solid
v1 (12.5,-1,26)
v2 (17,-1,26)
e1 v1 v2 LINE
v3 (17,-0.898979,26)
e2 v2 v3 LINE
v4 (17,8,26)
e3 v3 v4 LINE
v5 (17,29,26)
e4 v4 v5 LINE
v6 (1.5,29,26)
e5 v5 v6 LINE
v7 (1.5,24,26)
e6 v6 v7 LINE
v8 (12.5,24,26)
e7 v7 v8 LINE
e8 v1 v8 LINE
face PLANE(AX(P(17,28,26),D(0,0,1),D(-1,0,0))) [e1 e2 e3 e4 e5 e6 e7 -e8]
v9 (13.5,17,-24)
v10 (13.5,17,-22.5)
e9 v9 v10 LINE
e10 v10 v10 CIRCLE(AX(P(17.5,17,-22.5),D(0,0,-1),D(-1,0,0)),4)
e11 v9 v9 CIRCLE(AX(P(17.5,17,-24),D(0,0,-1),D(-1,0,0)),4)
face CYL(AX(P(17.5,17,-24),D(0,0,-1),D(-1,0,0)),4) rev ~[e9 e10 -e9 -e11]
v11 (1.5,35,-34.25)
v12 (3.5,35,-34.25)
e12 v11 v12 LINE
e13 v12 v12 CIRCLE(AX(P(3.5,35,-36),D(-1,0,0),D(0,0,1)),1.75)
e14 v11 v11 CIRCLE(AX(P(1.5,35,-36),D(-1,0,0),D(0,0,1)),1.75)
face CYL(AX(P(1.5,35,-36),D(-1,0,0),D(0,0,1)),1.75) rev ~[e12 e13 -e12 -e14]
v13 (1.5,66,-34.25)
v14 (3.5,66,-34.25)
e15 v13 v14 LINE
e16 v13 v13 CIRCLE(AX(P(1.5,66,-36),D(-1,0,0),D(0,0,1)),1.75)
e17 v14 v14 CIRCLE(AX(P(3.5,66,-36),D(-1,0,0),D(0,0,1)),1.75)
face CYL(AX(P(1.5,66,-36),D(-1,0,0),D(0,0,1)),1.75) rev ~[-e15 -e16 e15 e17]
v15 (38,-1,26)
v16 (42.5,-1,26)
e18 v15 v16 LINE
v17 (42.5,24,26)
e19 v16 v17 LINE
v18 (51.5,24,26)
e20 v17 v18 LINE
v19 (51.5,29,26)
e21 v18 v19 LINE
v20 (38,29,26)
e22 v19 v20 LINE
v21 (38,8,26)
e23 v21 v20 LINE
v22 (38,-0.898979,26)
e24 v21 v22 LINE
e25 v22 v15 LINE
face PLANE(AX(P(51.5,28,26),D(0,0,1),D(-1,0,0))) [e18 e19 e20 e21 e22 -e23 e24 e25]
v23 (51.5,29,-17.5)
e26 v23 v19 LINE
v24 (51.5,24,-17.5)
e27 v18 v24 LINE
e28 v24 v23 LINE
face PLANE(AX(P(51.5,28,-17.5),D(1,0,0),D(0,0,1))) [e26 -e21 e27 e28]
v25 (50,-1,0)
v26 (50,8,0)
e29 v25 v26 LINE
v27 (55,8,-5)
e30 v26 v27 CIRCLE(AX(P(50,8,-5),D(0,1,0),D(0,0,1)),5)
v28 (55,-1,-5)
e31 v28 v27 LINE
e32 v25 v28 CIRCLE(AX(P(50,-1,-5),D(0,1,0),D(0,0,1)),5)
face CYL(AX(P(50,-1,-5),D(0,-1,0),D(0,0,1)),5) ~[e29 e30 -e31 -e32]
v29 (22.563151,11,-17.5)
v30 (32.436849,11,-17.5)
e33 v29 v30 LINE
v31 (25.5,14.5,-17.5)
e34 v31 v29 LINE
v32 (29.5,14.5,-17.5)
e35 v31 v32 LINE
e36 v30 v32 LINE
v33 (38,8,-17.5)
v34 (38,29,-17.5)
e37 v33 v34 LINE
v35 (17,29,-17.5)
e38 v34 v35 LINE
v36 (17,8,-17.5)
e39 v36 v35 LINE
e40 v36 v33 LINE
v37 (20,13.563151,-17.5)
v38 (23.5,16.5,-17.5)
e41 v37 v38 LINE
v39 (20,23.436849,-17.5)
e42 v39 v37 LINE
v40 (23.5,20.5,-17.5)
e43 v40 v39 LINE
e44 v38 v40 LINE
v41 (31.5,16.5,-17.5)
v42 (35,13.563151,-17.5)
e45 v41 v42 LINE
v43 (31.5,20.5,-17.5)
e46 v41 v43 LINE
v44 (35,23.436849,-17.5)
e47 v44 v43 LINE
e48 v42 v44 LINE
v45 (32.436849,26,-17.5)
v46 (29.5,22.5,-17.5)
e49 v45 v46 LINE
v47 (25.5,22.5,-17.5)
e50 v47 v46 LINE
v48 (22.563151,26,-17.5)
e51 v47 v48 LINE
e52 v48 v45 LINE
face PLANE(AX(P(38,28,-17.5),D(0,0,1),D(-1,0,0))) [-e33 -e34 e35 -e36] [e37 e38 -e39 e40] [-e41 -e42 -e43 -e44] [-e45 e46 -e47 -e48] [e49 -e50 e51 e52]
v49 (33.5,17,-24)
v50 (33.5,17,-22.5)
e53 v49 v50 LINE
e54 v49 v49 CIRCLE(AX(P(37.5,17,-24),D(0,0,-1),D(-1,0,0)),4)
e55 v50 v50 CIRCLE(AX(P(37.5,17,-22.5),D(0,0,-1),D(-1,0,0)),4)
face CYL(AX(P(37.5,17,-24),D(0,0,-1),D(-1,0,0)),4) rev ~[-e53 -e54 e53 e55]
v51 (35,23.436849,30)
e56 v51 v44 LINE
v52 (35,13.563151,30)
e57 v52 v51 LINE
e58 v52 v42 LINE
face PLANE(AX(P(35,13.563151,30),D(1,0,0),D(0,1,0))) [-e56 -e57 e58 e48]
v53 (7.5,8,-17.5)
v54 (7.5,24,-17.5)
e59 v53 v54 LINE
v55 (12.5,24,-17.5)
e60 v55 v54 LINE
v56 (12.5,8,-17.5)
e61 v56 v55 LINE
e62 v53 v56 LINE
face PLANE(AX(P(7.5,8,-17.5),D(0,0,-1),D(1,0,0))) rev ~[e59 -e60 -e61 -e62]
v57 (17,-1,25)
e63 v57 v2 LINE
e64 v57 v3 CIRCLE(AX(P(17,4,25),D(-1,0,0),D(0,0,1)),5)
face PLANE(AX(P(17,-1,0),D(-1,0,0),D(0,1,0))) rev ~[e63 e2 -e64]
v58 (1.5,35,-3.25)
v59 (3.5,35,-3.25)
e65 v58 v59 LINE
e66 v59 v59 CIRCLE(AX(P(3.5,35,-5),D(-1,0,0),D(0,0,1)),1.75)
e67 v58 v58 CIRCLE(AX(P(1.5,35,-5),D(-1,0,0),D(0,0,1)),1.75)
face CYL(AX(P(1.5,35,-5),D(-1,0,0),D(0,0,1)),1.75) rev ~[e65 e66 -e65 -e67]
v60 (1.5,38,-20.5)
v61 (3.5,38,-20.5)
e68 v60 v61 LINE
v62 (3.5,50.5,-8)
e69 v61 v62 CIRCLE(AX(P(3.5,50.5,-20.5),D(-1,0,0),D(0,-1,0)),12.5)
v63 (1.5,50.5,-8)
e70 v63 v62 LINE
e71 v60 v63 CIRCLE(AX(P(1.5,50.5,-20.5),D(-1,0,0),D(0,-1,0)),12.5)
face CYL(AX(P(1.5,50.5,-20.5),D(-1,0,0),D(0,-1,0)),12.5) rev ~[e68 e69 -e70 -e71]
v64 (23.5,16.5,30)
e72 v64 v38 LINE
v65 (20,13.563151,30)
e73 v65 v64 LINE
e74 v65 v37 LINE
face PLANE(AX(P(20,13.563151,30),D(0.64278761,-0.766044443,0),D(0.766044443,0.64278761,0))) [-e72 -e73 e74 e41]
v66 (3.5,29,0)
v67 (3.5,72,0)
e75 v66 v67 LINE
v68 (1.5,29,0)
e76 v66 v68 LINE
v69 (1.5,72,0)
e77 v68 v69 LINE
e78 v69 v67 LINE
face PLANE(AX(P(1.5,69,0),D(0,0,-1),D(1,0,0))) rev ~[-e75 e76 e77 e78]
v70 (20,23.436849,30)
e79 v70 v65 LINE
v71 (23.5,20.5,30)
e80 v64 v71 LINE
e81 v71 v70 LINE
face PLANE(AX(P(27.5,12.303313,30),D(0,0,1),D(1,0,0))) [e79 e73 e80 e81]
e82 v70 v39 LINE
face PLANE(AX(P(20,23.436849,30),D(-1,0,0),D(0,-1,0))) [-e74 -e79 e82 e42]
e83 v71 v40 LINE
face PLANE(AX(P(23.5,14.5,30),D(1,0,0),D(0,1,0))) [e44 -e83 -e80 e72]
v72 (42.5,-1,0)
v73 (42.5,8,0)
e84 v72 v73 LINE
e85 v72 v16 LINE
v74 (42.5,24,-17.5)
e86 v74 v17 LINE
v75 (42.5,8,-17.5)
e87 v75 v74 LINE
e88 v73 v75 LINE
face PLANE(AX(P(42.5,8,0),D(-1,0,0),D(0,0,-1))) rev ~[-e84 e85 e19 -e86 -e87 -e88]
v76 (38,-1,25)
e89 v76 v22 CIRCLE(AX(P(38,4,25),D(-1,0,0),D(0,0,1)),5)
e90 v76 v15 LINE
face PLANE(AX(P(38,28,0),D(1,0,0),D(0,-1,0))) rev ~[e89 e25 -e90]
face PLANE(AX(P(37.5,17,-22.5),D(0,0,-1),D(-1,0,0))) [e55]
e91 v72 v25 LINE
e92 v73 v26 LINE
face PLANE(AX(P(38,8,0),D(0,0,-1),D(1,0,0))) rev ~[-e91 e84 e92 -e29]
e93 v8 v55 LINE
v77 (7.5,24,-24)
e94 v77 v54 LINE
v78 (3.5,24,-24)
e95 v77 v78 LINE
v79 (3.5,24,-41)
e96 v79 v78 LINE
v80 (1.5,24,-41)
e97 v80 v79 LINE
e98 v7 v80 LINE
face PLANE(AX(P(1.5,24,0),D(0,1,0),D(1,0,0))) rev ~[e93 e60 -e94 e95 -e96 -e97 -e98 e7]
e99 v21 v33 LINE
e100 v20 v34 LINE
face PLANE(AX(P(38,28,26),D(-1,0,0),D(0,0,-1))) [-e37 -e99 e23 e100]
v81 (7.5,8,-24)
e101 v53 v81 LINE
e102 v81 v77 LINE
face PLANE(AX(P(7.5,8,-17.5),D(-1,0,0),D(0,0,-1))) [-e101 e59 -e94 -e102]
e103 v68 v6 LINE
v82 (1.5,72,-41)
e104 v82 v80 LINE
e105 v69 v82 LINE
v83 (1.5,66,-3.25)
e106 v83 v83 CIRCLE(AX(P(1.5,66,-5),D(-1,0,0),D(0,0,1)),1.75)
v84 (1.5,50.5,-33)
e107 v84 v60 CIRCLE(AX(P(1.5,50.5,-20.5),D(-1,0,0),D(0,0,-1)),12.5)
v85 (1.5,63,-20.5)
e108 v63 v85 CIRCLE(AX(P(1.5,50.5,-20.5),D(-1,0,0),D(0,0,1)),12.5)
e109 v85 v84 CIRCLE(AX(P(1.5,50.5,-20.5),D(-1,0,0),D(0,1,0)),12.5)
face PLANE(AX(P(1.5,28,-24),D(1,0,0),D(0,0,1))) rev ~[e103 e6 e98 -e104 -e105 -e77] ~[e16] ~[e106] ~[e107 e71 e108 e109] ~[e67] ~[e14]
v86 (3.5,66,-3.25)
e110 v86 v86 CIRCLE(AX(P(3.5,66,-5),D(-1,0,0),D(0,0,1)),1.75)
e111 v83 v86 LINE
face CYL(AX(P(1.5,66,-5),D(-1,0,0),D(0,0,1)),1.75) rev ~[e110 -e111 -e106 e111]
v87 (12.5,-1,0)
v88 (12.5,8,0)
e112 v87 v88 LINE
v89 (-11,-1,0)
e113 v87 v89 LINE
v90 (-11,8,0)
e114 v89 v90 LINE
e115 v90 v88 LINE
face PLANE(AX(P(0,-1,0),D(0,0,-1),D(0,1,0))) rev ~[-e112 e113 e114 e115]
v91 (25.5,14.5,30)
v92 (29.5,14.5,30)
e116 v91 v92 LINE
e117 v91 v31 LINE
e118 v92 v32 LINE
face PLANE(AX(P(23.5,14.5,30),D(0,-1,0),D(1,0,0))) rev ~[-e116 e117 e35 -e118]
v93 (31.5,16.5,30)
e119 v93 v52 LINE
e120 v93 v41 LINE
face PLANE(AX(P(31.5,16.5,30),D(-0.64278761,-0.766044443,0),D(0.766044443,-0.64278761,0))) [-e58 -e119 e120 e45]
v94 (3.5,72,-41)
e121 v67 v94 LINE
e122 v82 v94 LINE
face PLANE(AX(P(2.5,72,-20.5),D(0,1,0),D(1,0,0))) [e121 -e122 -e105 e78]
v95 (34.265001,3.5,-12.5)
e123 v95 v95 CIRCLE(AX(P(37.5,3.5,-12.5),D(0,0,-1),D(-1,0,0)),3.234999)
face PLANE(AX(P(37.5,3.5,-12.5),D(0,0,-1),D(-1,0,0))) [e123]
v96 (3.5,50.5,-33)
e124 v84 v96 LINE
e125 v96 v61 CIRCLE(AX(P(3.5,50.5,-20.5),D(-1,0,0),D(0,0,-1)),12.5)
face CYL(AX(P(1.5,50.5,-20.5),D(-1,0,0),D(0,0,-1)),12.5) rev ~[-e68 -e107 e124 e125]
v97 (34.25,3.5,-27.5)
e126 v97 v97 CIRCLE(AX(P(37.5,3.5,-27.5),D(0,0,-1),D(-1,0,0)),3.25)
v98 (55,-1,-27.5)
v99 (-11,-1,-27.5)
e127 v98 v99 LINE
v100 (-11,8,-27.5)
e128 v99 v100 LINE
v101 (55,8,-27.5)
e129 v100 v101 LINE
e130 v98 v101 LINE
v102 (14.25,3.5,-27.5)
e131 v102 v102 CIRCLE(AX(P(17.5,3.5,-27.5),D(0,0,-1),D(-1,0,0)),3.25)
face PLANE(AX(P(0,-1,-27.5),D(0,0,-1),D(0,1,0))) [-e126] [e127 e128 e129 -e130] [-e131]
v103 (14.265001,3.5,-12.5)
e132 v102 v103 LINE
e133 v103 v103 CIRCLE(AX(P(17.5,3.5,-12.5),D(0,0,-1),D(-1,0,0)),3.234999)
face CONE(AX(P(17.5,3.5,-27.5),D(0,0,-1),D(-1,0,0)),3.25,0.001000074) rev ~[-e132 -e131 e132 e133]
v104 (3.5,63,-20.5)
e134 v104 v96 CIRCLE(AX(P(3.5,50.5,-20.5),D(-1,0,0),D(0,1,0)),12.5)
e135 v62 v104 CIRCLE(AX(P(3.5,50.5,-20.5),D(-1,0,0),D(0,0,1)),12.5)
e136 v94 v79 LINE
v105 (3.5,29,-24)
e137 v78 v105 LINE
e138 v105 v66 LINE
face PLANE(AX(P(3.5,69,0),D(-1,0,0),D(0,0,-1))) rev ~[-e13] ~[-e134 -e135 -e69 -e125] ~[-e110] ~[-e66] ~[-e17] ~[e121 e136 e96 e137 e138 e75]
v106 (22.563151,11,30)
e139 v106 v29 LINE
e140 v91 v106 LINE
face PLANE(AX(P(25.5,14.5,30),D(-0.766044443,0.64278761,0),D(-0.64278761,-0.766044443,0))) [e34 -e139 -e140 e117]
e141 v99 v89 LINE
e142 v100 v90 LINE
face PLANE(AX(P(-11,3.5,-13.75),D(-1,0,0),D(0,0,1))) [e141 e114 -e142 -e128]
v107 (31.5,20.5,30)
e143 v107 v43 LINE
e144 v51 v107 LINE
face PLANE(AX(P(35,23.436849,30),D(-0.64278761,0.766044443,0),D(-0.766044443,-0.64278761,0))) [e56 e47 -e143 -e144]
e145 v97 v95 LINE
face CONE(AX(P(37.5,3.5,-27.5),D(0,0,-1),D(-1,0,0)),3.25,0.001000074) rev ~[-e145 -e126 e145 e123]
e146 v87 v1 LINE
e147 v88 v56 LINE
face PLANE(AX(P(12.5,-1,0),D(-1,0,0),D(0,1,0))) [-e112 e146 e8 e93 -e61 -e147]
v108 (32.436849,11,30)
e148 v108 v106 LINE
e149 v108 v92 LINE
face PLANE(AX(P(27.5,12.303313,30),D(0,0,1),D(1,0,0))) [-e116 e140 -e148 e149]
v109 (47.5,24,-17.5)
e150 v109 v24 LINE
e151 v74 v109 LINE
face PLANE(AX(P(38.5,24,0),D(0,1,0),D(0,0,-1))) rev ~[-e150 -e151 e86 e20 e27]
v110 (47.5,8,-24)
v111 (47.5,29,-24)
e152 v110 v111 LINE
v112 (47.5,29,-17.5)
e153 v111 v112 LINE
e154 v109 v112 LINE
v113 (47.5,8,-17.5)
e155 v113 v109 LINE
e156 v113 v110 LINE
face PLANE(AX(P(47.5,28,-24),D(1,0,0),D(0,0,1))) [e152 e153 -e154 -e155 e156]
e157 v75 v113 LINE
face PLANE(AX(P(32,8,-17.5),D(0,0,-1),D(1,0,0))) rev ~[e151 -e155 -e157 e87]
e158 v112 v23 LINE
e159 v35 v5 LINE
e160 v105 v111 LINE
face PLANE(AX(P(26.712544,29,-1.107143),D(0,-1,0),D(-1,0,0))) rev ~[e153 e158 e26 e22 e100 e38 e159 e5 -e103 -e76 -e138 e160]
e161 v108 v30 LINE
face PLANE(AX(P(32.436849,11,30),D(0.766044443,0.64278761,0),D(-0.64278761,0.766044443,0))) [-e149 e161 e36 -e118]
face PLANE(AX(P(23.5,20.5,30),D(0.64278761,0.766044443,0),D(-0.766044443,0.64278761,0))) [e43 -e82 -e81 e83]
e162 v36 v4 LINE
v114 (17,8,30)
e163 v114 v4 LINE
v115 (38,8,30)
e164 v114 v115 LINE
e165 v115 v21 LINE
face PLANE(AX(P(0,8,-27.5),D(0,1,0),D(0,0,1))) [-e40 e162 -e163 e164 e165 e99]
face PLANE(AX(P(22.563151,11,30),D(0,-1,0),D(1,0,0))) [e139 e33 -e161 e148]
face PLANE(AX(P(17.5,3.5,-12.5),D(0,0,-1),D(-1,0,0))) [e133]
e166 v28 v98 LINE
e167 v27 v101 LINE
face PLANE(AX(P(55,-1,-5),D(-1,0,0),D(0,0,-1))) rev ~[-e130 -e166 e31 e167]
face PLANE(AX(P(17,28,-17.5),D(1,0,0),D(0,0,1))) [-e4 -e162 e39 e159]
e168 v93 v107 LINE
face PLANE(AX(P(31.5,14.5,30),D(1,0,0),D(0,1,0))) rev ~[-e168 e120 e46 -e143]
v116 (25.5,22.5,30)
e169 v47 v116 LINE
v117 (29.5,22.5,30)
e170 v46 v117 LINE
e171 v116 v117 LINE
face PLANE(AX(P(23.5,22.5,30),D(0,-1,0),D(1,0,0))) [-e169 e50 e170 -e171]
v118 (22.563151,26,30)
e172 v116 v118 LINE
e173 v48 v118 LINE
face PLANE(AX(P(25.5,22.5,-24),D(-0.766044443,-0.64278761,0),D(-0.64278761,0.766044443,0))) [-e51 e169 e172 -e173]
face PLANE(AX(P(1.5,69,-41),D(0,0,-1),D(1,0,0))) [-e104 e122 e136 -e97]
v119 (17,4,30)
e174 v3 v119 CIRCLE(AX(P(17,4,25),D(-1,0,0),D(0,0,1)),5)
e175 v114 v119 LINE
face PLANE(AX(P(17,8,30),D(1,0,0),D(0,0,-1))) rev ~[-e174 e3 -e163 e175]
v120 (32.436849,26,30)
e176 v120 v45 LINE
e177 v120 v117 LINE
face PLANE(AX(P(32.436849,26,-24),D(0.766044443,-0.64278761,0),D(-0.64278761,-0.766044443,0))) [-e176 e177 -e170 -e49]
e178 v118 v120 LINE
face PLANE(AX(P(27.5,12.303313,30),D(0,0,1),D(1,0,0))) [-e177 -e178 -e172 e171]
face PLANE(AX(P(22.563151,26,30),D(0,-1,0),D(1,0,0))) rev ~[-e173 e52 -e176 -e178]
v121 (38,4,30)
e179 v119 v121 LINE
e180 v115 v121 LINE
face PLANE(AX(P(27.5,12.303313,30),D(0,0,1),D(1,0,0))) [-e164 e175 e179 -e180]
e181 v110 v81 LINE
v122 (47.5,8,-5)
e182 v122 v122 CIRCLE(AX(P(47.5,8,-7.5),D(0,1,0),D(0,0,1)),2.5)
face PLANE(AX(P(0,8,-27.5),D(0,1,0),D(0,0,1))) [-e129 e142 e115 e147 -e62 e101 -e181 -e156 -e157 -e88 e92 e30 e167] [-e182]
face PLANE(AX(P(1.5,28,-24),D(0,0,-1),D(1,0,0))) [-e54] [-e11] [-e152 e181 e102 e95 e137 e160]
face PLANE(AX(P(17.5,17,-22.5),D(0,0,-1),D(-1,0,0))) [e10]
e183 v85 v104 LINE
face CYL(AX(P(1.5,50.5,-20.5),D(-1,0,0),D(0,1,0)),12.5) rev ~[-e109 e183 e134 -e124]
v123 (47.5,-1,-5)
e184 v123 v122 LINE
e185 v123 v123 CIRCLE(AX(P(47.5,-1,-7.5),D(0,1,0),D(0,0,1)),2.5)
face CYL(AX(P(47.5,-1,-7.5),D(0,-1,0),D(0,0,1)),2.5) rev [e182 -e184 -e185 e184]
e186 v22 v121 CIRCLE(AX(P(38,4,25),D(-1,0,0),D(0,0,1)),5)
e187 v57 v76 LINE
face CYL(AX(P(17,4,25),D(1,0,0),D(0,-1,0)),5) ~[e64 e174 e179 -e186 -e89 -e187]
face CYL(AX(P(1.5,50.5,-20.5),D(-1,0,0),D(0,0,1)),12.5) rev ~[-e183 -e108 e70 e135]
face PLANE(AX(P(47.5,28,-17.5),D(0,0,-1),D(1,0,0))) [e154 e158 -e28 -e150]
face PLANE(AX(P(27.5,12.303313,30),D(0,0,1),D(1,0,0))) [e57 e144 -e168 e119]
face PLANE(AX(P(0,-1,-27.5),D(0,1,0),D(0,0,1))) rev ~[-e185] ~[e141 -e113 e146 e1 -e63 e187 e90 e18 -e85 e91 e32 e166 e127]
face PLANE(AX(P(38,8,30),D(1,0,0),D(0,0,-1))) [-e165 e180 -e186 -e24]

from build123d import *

# Parameters (mm, degrees)
BOSS_EXTRUDE2_DEPTH          = 8
BOSS_EXTRUDE2_DEPTH_BACK     = 1
SKETCH1_R                    = 2.5
CUT_EXTRUDE1_DEPTH           = 79.300702423
CUT_EXTRUDE1_DEPTH_BACK      = 79.300702423
SKETCH2_R                    = 2.5
SKETCH3_R                    = 3.25
CUT_EXTRUDE5_DEPTH           = 15
CUT_EXTRUDE5_DRAFT           = -0.0573
CUT_EXTRUDE5_PROFILE_2_DEPTH = 15
CUT_EXTRUDE5_PROFILE_2_DRAFT = -0.0573
SKETCH5_W                    = 4.5
SKETCH5_H                    = 6.5
BOSS_EXTRUDE3_DEPTH          = 14.5
SKETCH6_R                    = 4
CUT_EXTRUDE4_DEPTH           = 1.5
SKETCH12_W                   = 10.5
SKETCH12_H                   = 30
BOSS_EXTRUDE7_DEPTH          = 9
SKETCH15_W                   = 9
SKETCH15_H                   = 6.5
BOSS_EXTRUDE8_DEPTH          = 3.5
BOSS_EXTRUDE9_DEPTH          = 54
FILLET4_R                    = 5
SKETCH18_W                   = 9.873697418
SKETCH18_H                   = 6.5
BOSS_EXTRUDE11_DEPTH         = 0.5
SKETCH20_W                   = 4
SKETCH20_H                   = 17.5
BOSS_EXTRUDE12_DEPTH         = 18
BOSS_EXTRUDE13_DEPTH         = 11
BOSS_EXTRUDE13_DEPTH_BACK    = 4
SKETCH22_W                   = 17.5
SKETCH22_H                   = 4
SKETCH25_W                   = 2
SKETCH25_H                   = 17.5
BOSS_EXTRUDE14_DEPTH         = 41
SKETCH28_W                   = 41
SKETCH28_H                   = 45
BOSS_EXTRUDE15_DEPTH         = 2
SKETCH29_R                   = 1.75
CUT_EXTRUDE8_DEPTH           = 9
BOSS_EXTRUDE16_DEPTH         = 9
BOSS_EXTRUDE16_DEPTH_BACK    = 4
SKETCH30_W                   = 17.5
SKETCH30_H                   = 2
CUT_EXTRUDE9_DEPTH           = 9
SKETCH32_W                   = 13
SKETCH32_H                   = 4
BOSS_EXTRUDE17_DEPTH         = 23.5
SKETCH33_W                   = 0.5
SKETCH33_H                   = 17.5
BOSS_EXTRUDE18_DEPTH         = 20
SKETCH34_W                   = 4.5
SKETCH34_H                   = 25
SKETCH34_W_2                 = 15.5
SKETCH34_H_2                 = 4
SKETCH34_W_3                 = 9
BOSS_EXTRUDE19_DEPTH         = 26
SKETCH35_W                   = 9.873697418
SKETCH35_H                   = 0.5
BOSS_EXTRUDE20_DEPTH         = 47.5
BOSS_EXTRUDE21_DEPTH         = 47.5
SKETCH38_W                   = 0.419549816
SKETCH38_H                   = 18.5
CUT_EXTRUDE10_DEPTH          = 90.5
SKETCH46_W                   = 22.5
SKETCH46_H                   = 9
SKETCH46_W_2                 = 5
BOSS_EXTRUDE26_DEPTH         = 11.5
SKETCH47_W                   = 27.5
SKETCH47_H                   = 9
BOSS_EXTRUDE27_DEPTH         = 11
SKETCH48_W                   = 5
SKETCH48_H                   = 6.5
BOSS_EXTRUDE31_DEPTH         = 18.5
SKETCH50_R                   = 4
CUT_EXTRUDE11_DEPTH          = 1.5
SKETCH51_W                   = 9.626242636
SKETCH51_H                   = 9.125298808
BOSS_EXTRUDE32_DEPTH         = 1.5
BOSS_EXTRUDE35_DEPTH         = 47.5
SKETCH55_W                   = 9.873697418
SKETCH55_H                   = 0.5
CUT_EXTRUDE12_DEPTH          = 47.5
BOSS_EXTRUDE37_DEPTH         = 47.5
CUT_EXTRUDE17_DEPTH          = 47.5
SKETCH62_W                   = 8
SKETCH62_H                   = 8
CUT_EXTRUDE18_DEPTH          = 47.5
SKETCH63_W                   = 13
SKETCH63_H                   = 4
CUT_EXTRUDE20_DEPTH          = 17
SKETCH64_W                   = 0.5
SKETCH64_H                   = 1.5
BOSS_EXTRUDE38_DEPTH         = 6.5
SKETCH65_W                   = 7
SKETCH65_H                   = 3
CUT_EXTRUDE21_DEPTH          = 1.5
BOSS_EXTRUDE39_START         = -2
BOSS_EXTRUDE39_DEPTH         = 2
CUT_EXTRUDE22_DEPTH          = 155
BOSS_EXTRUDE40_DEPTH         = 1.5
SKETCH70_W                   = 2
SKETCH70_H                   = 41
BOSS_EXTRUDE41_DEPTH         = 3
BOSS_EXTRUDE42_DEPTH         = 1


with BuildPart() as part:
    # Sketch1 → Boss-Extrude2 (new, two sides: drawn at the far end of the back side and taken through both)
    with BuildSketch(Plane(origin=(0, 0, 0), x_dir=(1, 0, 0), z_dir=(0, 1, 0)).offset(-BOSS_EXTRUDE2_DEPTH_BACK)):
        with BuildLine():
            Line((5, 0), (50, 0))
            ThreePointArc((50, 0), (53.535533906, 1.464466094), (55, 5))
            Line((55, 5), (55, 50))
            ThreePointArc((55, 50), (53.535533906, 53.535533906), (50, 55))
            Line((50, 55), (5, 55))
            ThreePointArc((5, 55), (1.464466094, 53.535533906), (0, 50))
            Line((0, 50), (0, 5))
            ThreePointArc((0, 5), (1.464466094, 1.464466094), (5, 0))
        make_face()
        with Locations(Location((7.5, 47.5, 0), (0, 0, 270))):
            Circle(SKETCH1_R, mode=Mode.SUBTRACT)
        with Locations(Location((47.5, 47.5, 0), (0, 0, 270))):
            Circle(SKETCH1_R, mode=Mode.SUBTRACT)
        with Locations(Location((47.5, 7.5, 0), (0, 0, 270))):
            Circle(SKETCH1_R, mode=Mode.SUBTRACT)
        with Locations(Location((7.5, 7.5, 0), (0, 0, 270))):
            Circle(SKETCH1_R, mode=Mode.SUBTRACT)
    extrude(amount=BOSS_EXTRUDE2_DEPTH + BOSS_EXTRUDE2_DEPTH_BACK)

    # Sketch2 → Cut-Extrude1 (cut, two sides: drawn at the far end of the back side and taken through both)
    with BuildSketch(Plane(origin=(0, 8, 0), x_dir=(1, 0, 0), z_dir=(0, 1, 0)).offset(-CUT_EXTRUDE1_DEPTH_BACK)):
        with BuildLine():
            Line((0, 50), (0, 27.5))
            Line((0, 27.5), (55, 27.5))
            Line((55, 27.5), (55, 50))
            ThreePointArc((55, 50), (53.535533906, 53.535533906), (50, 55))
            Line((50, 55), (5, 55))
            ThreePointArc((5, 55), (1.464466094, 53.535533906), (0, 50))
        make_face()
        with Locations((7.5, 47.5)):
            Circle(SKETCH2_R, mode=Mode.SUBTRACT)
        with Locations((47.5, 47.5)):
            Circle(SKETCH2_R, mode=Mode.SUBTRACT)
    extrude(amount=CUT_EXTRUDE1_DEPTH + CUT_EXTRUDE1_DEPTH_BACK, mode=Mode.SUBTRACT)


with BuildPart() as cut_extrude5_tool:
    # Sketch3 → Cut-Extrude5 (with draft: the straight prism first)
    with BuildSketch(Plane(origin=(0, 0, -27.5), x_dir=(-1, 0, 0), z_dir=(0, 0, -1))):
        with Locations((-37.5, 3.5)):
            Circle(SKETCH3_R)
    extrude(amount=-CUT_EXTRUDE5_DEPTH)
    # Cut-Extrude5: the draft: its side faces are tilted about the plane it starts from
    cut_extrude5_sides = [cut_extrude5_tool.faces().sort_by_distance(p)[0] for p in [
        (40.75, 3.5, -20),
    ]]
    draft(cut_extrude5_sides, Plane(origin=(0, 0, -27.5), x_dir=(-1, 0, 0), z_dir=(0, 0, -1)), CUT_EXTRUDE5_DRAFT)


with BuildPart() as part_1:
    add(part.part)

    # Cut-Extrude5: cut by cut_extrude5_tool
    add(cut_extrude5_tool.part, mode=Mode.SUBTRACT)


with BuildPart() as cut_extrude5_profile_2_tool:
    # Sketch3 → Cut-Extrude5 profile 2 (with draft: the straight prism first)
    with BuildSketch(Plane(origin=(0, 0, -27.5), x_dir=(-1, 0, 0), z_dir=(0, 0, -1))):
        with Locations((-17.5, 3.5)):
            Circle(SKETCH3_R)
    extrude(amount=-CUT_EXTRUDE5_PROFILE_2_DEPTH)
    # Cut-Extrude5 profile 2: the draft: its side faces are tilted about the plane it starts from
    cut_extrude5_profile_2_sides = [cut_extrude5_profile_2_tool.faces().sort_by_distance(p)[0] for p in [
        (20.75, 3.5, -20),
    ]]
    draft(cut_extrude5_profile_2_sides, Plane(origin=(0, 0, -27.5), x_dir=(-1, 0, 0), z_dir=(0, 0, -1)), CUT_EXTRUDE5_PROFILE_2_DRAFT)


with BuildPart() as part_2:
    add(part_1.part)

    # Cut-Extrude5 profile 2: cut by cut_extrude5_profile_2_tool
    add(cut_extrude5_profile_2_tool.part, mode=Mode.SUBTRACT)

    # Sketch5 → Boss-Extrude3 (add)
    with BuildSketch(Plane(origin=(0, 8, 0), x_dir=(1, 0, 0), z_dir=(0, 1, 0))):
        with Locations((25.25, 20.75)):
            Rectangle(SKETCH5_W, SKETCH5_H)
        with Locations((29.75, 20.75)):
            Rectangle(SKETCH5_W, SKETCH5_H)
    extrude(amount=BOSS_EXTRUDE3_DEPTH)

    # Sketch6 → Cut-Extrude4 (cut)
    with BuildSketch(Plane(origin=(0, 0, -24), x_dir=(-1, 0, 0), z_dir=(0, 0, -1))):
        with Locations((-27.5, 17)):
            Circle(SKETCH6_R)
    extrude(amount=-CUT_EXTRUDE4_DEPTH, mode=Mode.SUBTRACT)

    # Sketch12 → Boss-Extrude7 (add)
    with BuildSketch(Plane(origin=(0, 8, 0), x_dir=(1, 0, 0), z_dir=(0, 1, 0))):
        with Locations((32.75, -15)):
            Rectangle(SKETCH12_W, SKETCH12_H)
        with Locations((22.25, -15)):
            Rectangle(SKETCH12_W, SKETCH12_H)
    extrude(amount=-BOSS_EXTRUDE7_DEPTH)

    # Sketch15 → Boss-Extrude8 (add)
    with BuildSketch(Plane(origin=(0, 22.5, 0), x_dir=(1, 0, 0), z_dir=(0, 1, 0))):
        with Locations((27.5, 20.75)):
            Rectangle(SKETCH15_W, SKETCH15_H)
    extrude(amount=BOSS_EXTRUDE8_DEPTH)

    # Sketch11 → Boss-Extrude9 (add)
    with BuildSketch(Plane(origin=(0, 0, -24), x_dir=(-1, 0, 0), z_dir=(0, 0, -1))):
        Polygon((-32.436848709, 26), (-29.5, 22.5), (-29.5, 26), align=None)
        Polygon((-29.5, 22.5), (-27.5, 22.5), (-25.5, 22.5), (-25.5, 26), (-29.5, 26), align=None)
        Polygon((-25.5, 26), (-25.5, 22.5), (-22.563151291, 26), align=None)
    extrude(amount=-BOSS_EXTRUDE9_DEPTH)

    # Fillet4
    fillet4_edges = [part_2.edges().sort_by_distance(p)[0] for p in [
        (27.5, -1, 30),
    ]]
    fillet(fillet4_edges, radius=FILLET4_R)

    # Sketch18 → Boss-Extrude11 (add)
    with BuildSketch(Plane(origin=(0, 26, 0), x_dir=(1, 0, 0), z_dir=(0, 1, 0))):
        with Locations((27.5, 20.75)):
            Rectangle(SKETCH18_W, SKETCH18_H)
    extrude(amount=BOSS_EXTRUDE11_DEPTH)

    # Sketch20 → Boss-Extrude12 (add)
    with BuildSketch(Plane(origin=(0, 8, 0), x_dir=(1, 0, 0), z_dir=(0, 1, 0))):
        with Locations((14.5, 8.75)):
            Rectangle(SKETCH20_W, SKETCH20_H)
        with Locations((40.5, 8.75)):
            Rectangle(SKETCH20_W, SKETCH20_H)
    extrude(amount=BOSS_EXTRUDE12_DEPTH)

    # Sketch22 → Boss-Extrude13 (add, two sides: drawn at the far end of the back side and taken through both)
    with BuildSketch(Plane.ZY.offset(-12.5).offset(-BOSS_EXTRUDE13_DEPTH_BACK)):
        with Locations((-8.75, 26)):
            Rectangle(SKETCH22_W, SKETCH22_H)
    extrude(amount=BOSS_EXTRUDE13_DEPTH + BOSS_EXTRUDE13_DEPTH_BACK)

    # Sketch25 → Boss-Extrude14 (add)
    with BuildSketch(Plane(origin=(0, 28, 0), x_dir=(1, 0, 0), z_dir=(0, 1, 0))):
        with Locations((2.5, 8.75)):
            Rectangle(SKETCH25_W, SKETCH25_H)
    extrude(amount=BOSS_EXTRUDE14_DEPTH)

    # Sketch28 → Boss-Extrude15 (add)
    with BuildSketch(Plane.ZY.offset(-1.5)):
        with Locations((-20.5, 46.5)):
            Rectangle(SKETCH28_W, SKETCH28_H)
    extrude(amount=-BOSS_EXTRUDE15_DEPTH)

    # Sketch29 → Cut-Extrude8 (cut)
    with BuildSketch(Plane.ZY.offset(-1.5)):
        with Locations((-36, 35)):
            Circle(SKETCH29_R)
        with Locations((-5, 66)):
            Circle(SKETCH29_R)
        with Locations((-5, 35)):
            Circle(SKETCH29_R)
        with Locations((-36, 66)):
            Circle(SKETCH29_R)
    extrude(amount=-CUT_EXTRUDE8_DEPTH, mode=Mode.SUBTRACT)

    # Sketch30 → Boss-Extrude16 (add, two sides: drawn at the far end of the back side and taken through both)
    with BuildSketch(Plane(origin=(42.5, 0, 0), x_dir=(0, 0, -1), z_dir=(1, 0, 0)).offset(-BOSS_EXTRUDE16_DEPTH_BACK)):
        with Locations((8.75, 25)):
            Rectangle(SKETCH30_W, SKETCH30_H)
        with Locations((8.75, 27)):
            Rectangle(SKETCH30_W, SKETCH30_H)
    extrude(amount=BOSS_EXTRUDE16_DEPTH + BOSS_EXTRUDE16_DEPTH_BACK)

    # Sketch31 → Cut-Extrude9 (cut)
    with BuildSketch(Plane(origin=(3.5, 0, 0), x_dir=(0, 0, -1), z_dir=(1, 0, 0))):
        with BuildLine():
            ThreePointArc((30.5, 47), (27.571067812, 54.071067812), (20.5, 57))
            Line((20.5, 57), (20.5, 47))
            Line((20.5, 47), (30.5, 47))
        make_face()
        with BuildLine():
            Line((20.5, 47), (20.5, 57))
            ThreePointArc((20.5, 57), (13.428932188, 39.928932188), (30.5, 47))
            Line((30.5, 47), (20.5, 47))
        make_face()
    extrude(amount=-CUT_EXTRUDE9_DEPTH, mode=Mode.SUBTRACT)

    # Sketch32 → Boss-Extrude17 (add)
    with BuildSketch(Plane(origin=(0, 0, -17.5), x_dir=(-1, 0, 0), z_dir=(0, 0, -1))):
        with Locations((-10, 26)):
            Rectangle(SKETCH32_W, SKETCH32_H)
    extrude(amount=BOSS_EXTRUDE17_DEPTH)

    # Sketch33 → Boss-Extrude18 (add)
    with BuildSketch(Plane(origin=(0, 8, 0), x_dir=(1, 0, 0), z_dir=(0, 1, 0))):
        with Locations((38.25, 8.75)):
            Rectangle(SKETCH33_W, SKETCH33_H)
        with Locations((16.75, 8.75)):
            Rectangle(SKETCH33_W, SKETCH33_H)
    extrude(amount=BOSS_EXTRUDE18_DEPTH)

    # Sketch34 → Boss-Extrude19 (add)
    with BuildSketch(Plane.XY):
        with Locations((14.75, 11.5)):
            Rectangle(SKETCH34_W, SKETCH34_H)
        with Locations((9.25, 26)):
            Rectangle(SKETCH34_W_2, SKETCH34_H_2)
        Polygon((42.5, 24), (42.5, 28), (38, 28), (38, 8), (38, -1), (42.5, -1), (42.5, 8), align=None)
        with Locations((47, 26)):
            Rectangle(SKETCH34_W_3, SKETCH34_H_2)
    extrude(amount=BOSS_EXTRUDE19_DEPTH)

    # Sketch35 → Boss-Extrude20 (add)
    with BuildSketch(Plane.XY.offset(-17.5)):
        with Locations((27.5, 26.25)):
            Rectangle(SKETCH35_W, SKETCH35_H)
    extrude(amount=BOSS_EXTRUDE20_DEPTH)

    # Sketch37 → Boss-Extrude21 (add)
    with BuildSketch(Plane.XY.offset(-17.5)):
        Polygon((23, 8), (25.5, 8), (25.5, 12), (23, 9.020616019), align=None)
        Polygon((25.5, 8), (27.5, 8), (29.5, 8), (29.5, 12), (25.5, 12), align=None)
        Polygon((29.5, 12), (29.5, 8), (32, 8), (32, 9.020616019), align=None)
        Polygon((29.5, 8), (27.5, 8), (25.5, 8), (23, 8), (23, 9.020616019), (21.863844179, 7.666598237), (33.136155821, 7.666598237), (32, 9.020616019), (32, 8), align=None)
    extrude(amount=BOSS_EXTRUDE21_DEPTH)

    # Sketch38 → Cut-Extrude10 (cut)
    with BuildSketch(Plane.XY.offset(30)):
        with Locations((22.353376383, 17.25)):
            Rectangle(SKETCH38_W, SKETCH38_H)
        with Locations((32.646623617, 17.25)):
            Rectangle(SKETCH38_W, SKETCH38_H)
    extrude(amount=-CUT_EXTRUDE10_DEPTH, mode=Mode.SUBTRACT)

    # Sketch46 → Boss-Extrude26 (add)
    with BuildSketch(Plane.ZY):
        with Locations((-16.25, 3.5)):
            Rectangle(SKETCH46_W, SKETCH46_H)
        with Locations((-2.5, 3.5)):
            Rectangle(SKETCH46_W_2, SKETCH46_H)
    extrude(amount=-BOSS_EXTRUDE26_DEPTH)

    # Sketch47 → Boss-Extrude27 (add)
    with BuildSketch(Plane.ZY):
        with Locations((-13.75, 3.5)):
            Rectangle(SKETCH47_W, SKETCH47_H)
    extrude(amount=BOSS_EXTRUDE27_DEPTH)

    # Sketch48 → Boss-Extrude31 (add)
    with BuildSketch(Plane(origin=(0, 8, 0), x_dir=(1, 0, 0), z_dir=(0, 1, 0))):
        Polygon((42.5, 17.5), (42.5, 24), (32, 24), (32, 17.5), (32.436848709, 17.5), (38, 17.5), align=None)
        with Locations((45, 20.75)):
            Rectangle(SKETCH48_W, SKETCH48_H)
        Polygon((12.5, 24), (12.5, 17.5), (17, 17.5), (22.563151291, 17.5), (23, 17.5), (23, 24), align=None)
        with Locations((10, 20.75)):
            Rectangle(SKETCH48_W, SKETCH48_H)
    extrude(amount=BOSS_EXTRUDE31_DEPTH)

    # Sketch50 → Cut-Extrude11 (cut)
    with BuildSketch(Plane(origin=(0, 0, -24), x_dir=(-1, 0, 0), z_dir=(0, 0, -1))):
        with Locations((-17.5, 17)):
            Circle(SKETCH50_R)
        with Locations((-37.5, 17)):
            Circle(SKETCH50_R)
    extrude(amount=-CUT_EXTRUDE11_DEPTH, mode=Mode.SUBTRACT)

    # Sketch51 → Boss-Extrude32 (add)
    with BuildSketch(Plane(origin=(0, 0, -24), x_dir=(-1, 0, 0), z_dir=(0, 0, -1))):
        with Locations((-27.646184708, 17.114099589)):
            Rectangle(SKETCH51_W, SKETCH51_H)
    extrude(amount=-BOSS_EXTRUDE32_DEPTH)

    # Sketch54 → Boss-Extrude35 (add)
    with BuildSketch(Plane.XY.offset(-17.5)):
        Polygon((29.5, 22.5), (27.5, 22.5), (27.5, 14.5), (31.5, 14.5), (31.5, 22.5), align=None)
        Polygon((27.5, 14.5), (27.5, 22.5), (25.5, 22.5), (23.5, 22.5), (23.5, 14.5), align=None)
    extrude(amount=BOSS_EXTRUDE35_DEPTH)

    # Sketch55 → Cut-Extrude12 (cut)
    with BuildSketch(Plane.XY.offset(30)):
        with Locations((27.5, 26.25)):
            Rectangle(SKETCH55_W, SKETCH55_H)
    extrude(amount=-CUT_EXTRUDE12_DEPTH, mode=Mode.SUBTRACT)

    # Sketch57 → Boss-Extrude37 (add)
    with BuildSketch(Plane.XY.offset(30)):
        Polygon((35, 23.436848709), (31.5, 20.5), (31.5, 20.428787517), (35, 20.428787517), align=None)
        Polygon((35, 20.428787517), (31.5, 20.428787517), (31.5, 18.5), (35, 18.5), (35, 18.535606241), align=None)
        Polygon((35, 18.5), (31.5, 18.5), (31.5, 16.5), (35, 16.5), (35, 18.464393759), align=None)
        Polygon((35, 16.5), (31.5, 16.5), (35, 13.563151291), align=None)
        Polygon((32.436848709, 11), (29.5, 14.5), (25.5, 14.5), (22.563151291, 11), align=None)
        Polygon((20, 16.5), (23.5, 16.5), (23.5, 18.5), (23.5, 20.5), (20, 23.436848709), (20, 18.535606241), (20, 18.464393759), align=None)
        Polygon((20, 13.563151291), (23.5, 16.5), (20, 16.5), align=None)
    extrude(amount=-BOSS_EXTRUDE37_DEPTH)

    # Sketch61 → Cut-Extrude17 (cut)
    with BuildSketch(Plane.XY.offset(30)):
        Polygon((32.436848709, 8), (22.563151291, 8), (22.563151291, 8.5), (24.660900369, 11), (30.339099631, 11), (32.436848709, 8.5), align=None)
    extrude(amount=-CUT_EXTRUDE17_DEPTH, mode=Mode.SUBTRACT)

    # Sketch62 → Cut-Extrude18 (cut)
    with BuildSketch(Plane.XY.offset(30)):
        with Locations((27.5, 18.5)):
            Rectangle(SKETCH62_W, SKETCH62_H)
    extrude(amount=-CUT_EXTRUDE18_DEPTH, mode=Mode.SUBTRACT)

    # Sketch63 → Cut-Extrude20 (cut)
    with BuildSketch(Plane(origin=(0, 0, -41), x_dir=(-1, 0, 0), z_dir=(0, 0, -1))):
        with Locations((-10, 26)):
            Rectangle(SKETCH63_W, SKETCH63_H)
    extrude(amount=-CUT_EXTRUDE20_DEPTH, mode=Mode.SUBTRACT)

    # Sketch64 → Boss-Extrude38 (add)
    with BuildSketch(Plane(origin=(0, 0, -17.5), x_dir=(-1, 0, 0), z_dir=(0, 0, -1))):
        with Locations((-16.75, 27.25)):
            Rectangle(SKETCH64_W, SKETCH64_H)
    extrude(amount=BOSS_EXTRUDE38_DEPTH)

    # Sketch65 → Cut-Extrude21 (cut)
    with BuildSketch(Plane(origin=(0, 28, 0), x_dir=(1, 0, 0), z_dir=(0, 1, 0))):
        with Locations((48, 16)):
            Rectangle(SKETCH65_W, SKETCH65_H)
    extrude(amount=-CUT_EXTRUDE21_DEPTH, mode=Mode.SUBTRACT)

    # Sketch66 → Boss-Extrude39 (add)
    with BuildSketch(Plane.ZY.offset(-1.5).offset(BOSS_EXTRUDE39_START)):
        with BuildLine():
            ThreePointArc((-30.5, 47), (-20.5, 37), (-10.5, 47))
            Line((-10.5, 47), (-30.5, 47))
        make_face()
        with BuildLine():
            Line((-30.5, 47), (-10.5, 47))
            ThreePointArc((-10.5, 47), (-20.5, 57), (-30.5, 47))
        make_face()
    extrude(amount=BOSS_EXTRUDE39_DEPTH)

    # Sketch67 → Cut-Extrude22 (cut)
    with BuildSketch(Plane.ZY.offset(-1.5)):
        with BuildLine():
            ThreePointArc((-33, 50.5), (-29.338834765, 41.661165235), (-20.5, 38))
            Line((-20.5, 38), (-20.5, 50.5))
            Line((-20.5, 50.5), (-33, 50.5))
        make_face()
        with BuildLine():
            Line((-20.5, 50.5), (-20.5, 38))
            ThreePointArc((-20.5, 38), (-11.661165235, 41.661165235), (-8, 50.5))
            Line((-8, 50.5), (-20.5, 50.5))
        make_face()
        with BuildLine():
            Line((-33, 50.5), (-20.5, 50.5))
            Line((-20.5, 50.5), (-20.5, 63))
            ThreePointArc((-20.5, 63), (-29.338834765, 59.338834765), (-33, 50.5))
        make_face()
        with BuildLine():
            Line((-20.5, 63), (-20.5, 50.5))
            Line((-20.5, 50.5), (-8, 50.5))
            ThreePointArc((-8, 50.5), (-11.661165235, 59.338834765), (-20.5, 63))
        make_face()
    extrude(amount=-CUT_EXTRUDE22_DEPTH, mode=Mode.SUBTRACT)

    # Sketch69 → Boss-Extrude40 (add)
    with BuildSketch(Plane(origin=(0, 26.5, 0), x_dir=(1, 0, 0), z_dir=(0, 1, 0))):
        Polygon((44.5, 14.5), (51.5, 14.5), (51.5, 17.5), (47.5, 17.5), (47.5, 24), (17, 24), (17, 17.5), (44.5, 17.5), align=None)
    extrude(amount=BOSS_EXTRUDE40_DEPTH)

    # Sketch70 → Boss-Extrude41 (add)
    with BuildSketch(Plane(origin=(0, 69, 0), x_dir=(1, 0, 0), z_dir=(0, 1, 0))):
        with Locations((2.5, 20.5)):
            Rectangle(SKETCH70_W, SKETCH70_H)
    extrude(amount=BOSS_EXTRUDE41_DEPTH)

    # Sketch72 → Boss-Extrude42 (add)
    with BuildSketch(Plane(origin=(0, 28, 0), x_dir=(1, 0, 0), z_dir=(0, 1, 0))):
        Polygon((17, -26), (1.5, -26), (1.5, 0), (1.5, 24), (47.5, 24), (47.5, 17.5), (51.5, 17.5), (51.5, -26), (38, -26), (38, 17.5), (17, 17.5), align=None)
    extrude(amount=BOSS_EXTRUDE42_DEPTH)


solid = part_2.part
